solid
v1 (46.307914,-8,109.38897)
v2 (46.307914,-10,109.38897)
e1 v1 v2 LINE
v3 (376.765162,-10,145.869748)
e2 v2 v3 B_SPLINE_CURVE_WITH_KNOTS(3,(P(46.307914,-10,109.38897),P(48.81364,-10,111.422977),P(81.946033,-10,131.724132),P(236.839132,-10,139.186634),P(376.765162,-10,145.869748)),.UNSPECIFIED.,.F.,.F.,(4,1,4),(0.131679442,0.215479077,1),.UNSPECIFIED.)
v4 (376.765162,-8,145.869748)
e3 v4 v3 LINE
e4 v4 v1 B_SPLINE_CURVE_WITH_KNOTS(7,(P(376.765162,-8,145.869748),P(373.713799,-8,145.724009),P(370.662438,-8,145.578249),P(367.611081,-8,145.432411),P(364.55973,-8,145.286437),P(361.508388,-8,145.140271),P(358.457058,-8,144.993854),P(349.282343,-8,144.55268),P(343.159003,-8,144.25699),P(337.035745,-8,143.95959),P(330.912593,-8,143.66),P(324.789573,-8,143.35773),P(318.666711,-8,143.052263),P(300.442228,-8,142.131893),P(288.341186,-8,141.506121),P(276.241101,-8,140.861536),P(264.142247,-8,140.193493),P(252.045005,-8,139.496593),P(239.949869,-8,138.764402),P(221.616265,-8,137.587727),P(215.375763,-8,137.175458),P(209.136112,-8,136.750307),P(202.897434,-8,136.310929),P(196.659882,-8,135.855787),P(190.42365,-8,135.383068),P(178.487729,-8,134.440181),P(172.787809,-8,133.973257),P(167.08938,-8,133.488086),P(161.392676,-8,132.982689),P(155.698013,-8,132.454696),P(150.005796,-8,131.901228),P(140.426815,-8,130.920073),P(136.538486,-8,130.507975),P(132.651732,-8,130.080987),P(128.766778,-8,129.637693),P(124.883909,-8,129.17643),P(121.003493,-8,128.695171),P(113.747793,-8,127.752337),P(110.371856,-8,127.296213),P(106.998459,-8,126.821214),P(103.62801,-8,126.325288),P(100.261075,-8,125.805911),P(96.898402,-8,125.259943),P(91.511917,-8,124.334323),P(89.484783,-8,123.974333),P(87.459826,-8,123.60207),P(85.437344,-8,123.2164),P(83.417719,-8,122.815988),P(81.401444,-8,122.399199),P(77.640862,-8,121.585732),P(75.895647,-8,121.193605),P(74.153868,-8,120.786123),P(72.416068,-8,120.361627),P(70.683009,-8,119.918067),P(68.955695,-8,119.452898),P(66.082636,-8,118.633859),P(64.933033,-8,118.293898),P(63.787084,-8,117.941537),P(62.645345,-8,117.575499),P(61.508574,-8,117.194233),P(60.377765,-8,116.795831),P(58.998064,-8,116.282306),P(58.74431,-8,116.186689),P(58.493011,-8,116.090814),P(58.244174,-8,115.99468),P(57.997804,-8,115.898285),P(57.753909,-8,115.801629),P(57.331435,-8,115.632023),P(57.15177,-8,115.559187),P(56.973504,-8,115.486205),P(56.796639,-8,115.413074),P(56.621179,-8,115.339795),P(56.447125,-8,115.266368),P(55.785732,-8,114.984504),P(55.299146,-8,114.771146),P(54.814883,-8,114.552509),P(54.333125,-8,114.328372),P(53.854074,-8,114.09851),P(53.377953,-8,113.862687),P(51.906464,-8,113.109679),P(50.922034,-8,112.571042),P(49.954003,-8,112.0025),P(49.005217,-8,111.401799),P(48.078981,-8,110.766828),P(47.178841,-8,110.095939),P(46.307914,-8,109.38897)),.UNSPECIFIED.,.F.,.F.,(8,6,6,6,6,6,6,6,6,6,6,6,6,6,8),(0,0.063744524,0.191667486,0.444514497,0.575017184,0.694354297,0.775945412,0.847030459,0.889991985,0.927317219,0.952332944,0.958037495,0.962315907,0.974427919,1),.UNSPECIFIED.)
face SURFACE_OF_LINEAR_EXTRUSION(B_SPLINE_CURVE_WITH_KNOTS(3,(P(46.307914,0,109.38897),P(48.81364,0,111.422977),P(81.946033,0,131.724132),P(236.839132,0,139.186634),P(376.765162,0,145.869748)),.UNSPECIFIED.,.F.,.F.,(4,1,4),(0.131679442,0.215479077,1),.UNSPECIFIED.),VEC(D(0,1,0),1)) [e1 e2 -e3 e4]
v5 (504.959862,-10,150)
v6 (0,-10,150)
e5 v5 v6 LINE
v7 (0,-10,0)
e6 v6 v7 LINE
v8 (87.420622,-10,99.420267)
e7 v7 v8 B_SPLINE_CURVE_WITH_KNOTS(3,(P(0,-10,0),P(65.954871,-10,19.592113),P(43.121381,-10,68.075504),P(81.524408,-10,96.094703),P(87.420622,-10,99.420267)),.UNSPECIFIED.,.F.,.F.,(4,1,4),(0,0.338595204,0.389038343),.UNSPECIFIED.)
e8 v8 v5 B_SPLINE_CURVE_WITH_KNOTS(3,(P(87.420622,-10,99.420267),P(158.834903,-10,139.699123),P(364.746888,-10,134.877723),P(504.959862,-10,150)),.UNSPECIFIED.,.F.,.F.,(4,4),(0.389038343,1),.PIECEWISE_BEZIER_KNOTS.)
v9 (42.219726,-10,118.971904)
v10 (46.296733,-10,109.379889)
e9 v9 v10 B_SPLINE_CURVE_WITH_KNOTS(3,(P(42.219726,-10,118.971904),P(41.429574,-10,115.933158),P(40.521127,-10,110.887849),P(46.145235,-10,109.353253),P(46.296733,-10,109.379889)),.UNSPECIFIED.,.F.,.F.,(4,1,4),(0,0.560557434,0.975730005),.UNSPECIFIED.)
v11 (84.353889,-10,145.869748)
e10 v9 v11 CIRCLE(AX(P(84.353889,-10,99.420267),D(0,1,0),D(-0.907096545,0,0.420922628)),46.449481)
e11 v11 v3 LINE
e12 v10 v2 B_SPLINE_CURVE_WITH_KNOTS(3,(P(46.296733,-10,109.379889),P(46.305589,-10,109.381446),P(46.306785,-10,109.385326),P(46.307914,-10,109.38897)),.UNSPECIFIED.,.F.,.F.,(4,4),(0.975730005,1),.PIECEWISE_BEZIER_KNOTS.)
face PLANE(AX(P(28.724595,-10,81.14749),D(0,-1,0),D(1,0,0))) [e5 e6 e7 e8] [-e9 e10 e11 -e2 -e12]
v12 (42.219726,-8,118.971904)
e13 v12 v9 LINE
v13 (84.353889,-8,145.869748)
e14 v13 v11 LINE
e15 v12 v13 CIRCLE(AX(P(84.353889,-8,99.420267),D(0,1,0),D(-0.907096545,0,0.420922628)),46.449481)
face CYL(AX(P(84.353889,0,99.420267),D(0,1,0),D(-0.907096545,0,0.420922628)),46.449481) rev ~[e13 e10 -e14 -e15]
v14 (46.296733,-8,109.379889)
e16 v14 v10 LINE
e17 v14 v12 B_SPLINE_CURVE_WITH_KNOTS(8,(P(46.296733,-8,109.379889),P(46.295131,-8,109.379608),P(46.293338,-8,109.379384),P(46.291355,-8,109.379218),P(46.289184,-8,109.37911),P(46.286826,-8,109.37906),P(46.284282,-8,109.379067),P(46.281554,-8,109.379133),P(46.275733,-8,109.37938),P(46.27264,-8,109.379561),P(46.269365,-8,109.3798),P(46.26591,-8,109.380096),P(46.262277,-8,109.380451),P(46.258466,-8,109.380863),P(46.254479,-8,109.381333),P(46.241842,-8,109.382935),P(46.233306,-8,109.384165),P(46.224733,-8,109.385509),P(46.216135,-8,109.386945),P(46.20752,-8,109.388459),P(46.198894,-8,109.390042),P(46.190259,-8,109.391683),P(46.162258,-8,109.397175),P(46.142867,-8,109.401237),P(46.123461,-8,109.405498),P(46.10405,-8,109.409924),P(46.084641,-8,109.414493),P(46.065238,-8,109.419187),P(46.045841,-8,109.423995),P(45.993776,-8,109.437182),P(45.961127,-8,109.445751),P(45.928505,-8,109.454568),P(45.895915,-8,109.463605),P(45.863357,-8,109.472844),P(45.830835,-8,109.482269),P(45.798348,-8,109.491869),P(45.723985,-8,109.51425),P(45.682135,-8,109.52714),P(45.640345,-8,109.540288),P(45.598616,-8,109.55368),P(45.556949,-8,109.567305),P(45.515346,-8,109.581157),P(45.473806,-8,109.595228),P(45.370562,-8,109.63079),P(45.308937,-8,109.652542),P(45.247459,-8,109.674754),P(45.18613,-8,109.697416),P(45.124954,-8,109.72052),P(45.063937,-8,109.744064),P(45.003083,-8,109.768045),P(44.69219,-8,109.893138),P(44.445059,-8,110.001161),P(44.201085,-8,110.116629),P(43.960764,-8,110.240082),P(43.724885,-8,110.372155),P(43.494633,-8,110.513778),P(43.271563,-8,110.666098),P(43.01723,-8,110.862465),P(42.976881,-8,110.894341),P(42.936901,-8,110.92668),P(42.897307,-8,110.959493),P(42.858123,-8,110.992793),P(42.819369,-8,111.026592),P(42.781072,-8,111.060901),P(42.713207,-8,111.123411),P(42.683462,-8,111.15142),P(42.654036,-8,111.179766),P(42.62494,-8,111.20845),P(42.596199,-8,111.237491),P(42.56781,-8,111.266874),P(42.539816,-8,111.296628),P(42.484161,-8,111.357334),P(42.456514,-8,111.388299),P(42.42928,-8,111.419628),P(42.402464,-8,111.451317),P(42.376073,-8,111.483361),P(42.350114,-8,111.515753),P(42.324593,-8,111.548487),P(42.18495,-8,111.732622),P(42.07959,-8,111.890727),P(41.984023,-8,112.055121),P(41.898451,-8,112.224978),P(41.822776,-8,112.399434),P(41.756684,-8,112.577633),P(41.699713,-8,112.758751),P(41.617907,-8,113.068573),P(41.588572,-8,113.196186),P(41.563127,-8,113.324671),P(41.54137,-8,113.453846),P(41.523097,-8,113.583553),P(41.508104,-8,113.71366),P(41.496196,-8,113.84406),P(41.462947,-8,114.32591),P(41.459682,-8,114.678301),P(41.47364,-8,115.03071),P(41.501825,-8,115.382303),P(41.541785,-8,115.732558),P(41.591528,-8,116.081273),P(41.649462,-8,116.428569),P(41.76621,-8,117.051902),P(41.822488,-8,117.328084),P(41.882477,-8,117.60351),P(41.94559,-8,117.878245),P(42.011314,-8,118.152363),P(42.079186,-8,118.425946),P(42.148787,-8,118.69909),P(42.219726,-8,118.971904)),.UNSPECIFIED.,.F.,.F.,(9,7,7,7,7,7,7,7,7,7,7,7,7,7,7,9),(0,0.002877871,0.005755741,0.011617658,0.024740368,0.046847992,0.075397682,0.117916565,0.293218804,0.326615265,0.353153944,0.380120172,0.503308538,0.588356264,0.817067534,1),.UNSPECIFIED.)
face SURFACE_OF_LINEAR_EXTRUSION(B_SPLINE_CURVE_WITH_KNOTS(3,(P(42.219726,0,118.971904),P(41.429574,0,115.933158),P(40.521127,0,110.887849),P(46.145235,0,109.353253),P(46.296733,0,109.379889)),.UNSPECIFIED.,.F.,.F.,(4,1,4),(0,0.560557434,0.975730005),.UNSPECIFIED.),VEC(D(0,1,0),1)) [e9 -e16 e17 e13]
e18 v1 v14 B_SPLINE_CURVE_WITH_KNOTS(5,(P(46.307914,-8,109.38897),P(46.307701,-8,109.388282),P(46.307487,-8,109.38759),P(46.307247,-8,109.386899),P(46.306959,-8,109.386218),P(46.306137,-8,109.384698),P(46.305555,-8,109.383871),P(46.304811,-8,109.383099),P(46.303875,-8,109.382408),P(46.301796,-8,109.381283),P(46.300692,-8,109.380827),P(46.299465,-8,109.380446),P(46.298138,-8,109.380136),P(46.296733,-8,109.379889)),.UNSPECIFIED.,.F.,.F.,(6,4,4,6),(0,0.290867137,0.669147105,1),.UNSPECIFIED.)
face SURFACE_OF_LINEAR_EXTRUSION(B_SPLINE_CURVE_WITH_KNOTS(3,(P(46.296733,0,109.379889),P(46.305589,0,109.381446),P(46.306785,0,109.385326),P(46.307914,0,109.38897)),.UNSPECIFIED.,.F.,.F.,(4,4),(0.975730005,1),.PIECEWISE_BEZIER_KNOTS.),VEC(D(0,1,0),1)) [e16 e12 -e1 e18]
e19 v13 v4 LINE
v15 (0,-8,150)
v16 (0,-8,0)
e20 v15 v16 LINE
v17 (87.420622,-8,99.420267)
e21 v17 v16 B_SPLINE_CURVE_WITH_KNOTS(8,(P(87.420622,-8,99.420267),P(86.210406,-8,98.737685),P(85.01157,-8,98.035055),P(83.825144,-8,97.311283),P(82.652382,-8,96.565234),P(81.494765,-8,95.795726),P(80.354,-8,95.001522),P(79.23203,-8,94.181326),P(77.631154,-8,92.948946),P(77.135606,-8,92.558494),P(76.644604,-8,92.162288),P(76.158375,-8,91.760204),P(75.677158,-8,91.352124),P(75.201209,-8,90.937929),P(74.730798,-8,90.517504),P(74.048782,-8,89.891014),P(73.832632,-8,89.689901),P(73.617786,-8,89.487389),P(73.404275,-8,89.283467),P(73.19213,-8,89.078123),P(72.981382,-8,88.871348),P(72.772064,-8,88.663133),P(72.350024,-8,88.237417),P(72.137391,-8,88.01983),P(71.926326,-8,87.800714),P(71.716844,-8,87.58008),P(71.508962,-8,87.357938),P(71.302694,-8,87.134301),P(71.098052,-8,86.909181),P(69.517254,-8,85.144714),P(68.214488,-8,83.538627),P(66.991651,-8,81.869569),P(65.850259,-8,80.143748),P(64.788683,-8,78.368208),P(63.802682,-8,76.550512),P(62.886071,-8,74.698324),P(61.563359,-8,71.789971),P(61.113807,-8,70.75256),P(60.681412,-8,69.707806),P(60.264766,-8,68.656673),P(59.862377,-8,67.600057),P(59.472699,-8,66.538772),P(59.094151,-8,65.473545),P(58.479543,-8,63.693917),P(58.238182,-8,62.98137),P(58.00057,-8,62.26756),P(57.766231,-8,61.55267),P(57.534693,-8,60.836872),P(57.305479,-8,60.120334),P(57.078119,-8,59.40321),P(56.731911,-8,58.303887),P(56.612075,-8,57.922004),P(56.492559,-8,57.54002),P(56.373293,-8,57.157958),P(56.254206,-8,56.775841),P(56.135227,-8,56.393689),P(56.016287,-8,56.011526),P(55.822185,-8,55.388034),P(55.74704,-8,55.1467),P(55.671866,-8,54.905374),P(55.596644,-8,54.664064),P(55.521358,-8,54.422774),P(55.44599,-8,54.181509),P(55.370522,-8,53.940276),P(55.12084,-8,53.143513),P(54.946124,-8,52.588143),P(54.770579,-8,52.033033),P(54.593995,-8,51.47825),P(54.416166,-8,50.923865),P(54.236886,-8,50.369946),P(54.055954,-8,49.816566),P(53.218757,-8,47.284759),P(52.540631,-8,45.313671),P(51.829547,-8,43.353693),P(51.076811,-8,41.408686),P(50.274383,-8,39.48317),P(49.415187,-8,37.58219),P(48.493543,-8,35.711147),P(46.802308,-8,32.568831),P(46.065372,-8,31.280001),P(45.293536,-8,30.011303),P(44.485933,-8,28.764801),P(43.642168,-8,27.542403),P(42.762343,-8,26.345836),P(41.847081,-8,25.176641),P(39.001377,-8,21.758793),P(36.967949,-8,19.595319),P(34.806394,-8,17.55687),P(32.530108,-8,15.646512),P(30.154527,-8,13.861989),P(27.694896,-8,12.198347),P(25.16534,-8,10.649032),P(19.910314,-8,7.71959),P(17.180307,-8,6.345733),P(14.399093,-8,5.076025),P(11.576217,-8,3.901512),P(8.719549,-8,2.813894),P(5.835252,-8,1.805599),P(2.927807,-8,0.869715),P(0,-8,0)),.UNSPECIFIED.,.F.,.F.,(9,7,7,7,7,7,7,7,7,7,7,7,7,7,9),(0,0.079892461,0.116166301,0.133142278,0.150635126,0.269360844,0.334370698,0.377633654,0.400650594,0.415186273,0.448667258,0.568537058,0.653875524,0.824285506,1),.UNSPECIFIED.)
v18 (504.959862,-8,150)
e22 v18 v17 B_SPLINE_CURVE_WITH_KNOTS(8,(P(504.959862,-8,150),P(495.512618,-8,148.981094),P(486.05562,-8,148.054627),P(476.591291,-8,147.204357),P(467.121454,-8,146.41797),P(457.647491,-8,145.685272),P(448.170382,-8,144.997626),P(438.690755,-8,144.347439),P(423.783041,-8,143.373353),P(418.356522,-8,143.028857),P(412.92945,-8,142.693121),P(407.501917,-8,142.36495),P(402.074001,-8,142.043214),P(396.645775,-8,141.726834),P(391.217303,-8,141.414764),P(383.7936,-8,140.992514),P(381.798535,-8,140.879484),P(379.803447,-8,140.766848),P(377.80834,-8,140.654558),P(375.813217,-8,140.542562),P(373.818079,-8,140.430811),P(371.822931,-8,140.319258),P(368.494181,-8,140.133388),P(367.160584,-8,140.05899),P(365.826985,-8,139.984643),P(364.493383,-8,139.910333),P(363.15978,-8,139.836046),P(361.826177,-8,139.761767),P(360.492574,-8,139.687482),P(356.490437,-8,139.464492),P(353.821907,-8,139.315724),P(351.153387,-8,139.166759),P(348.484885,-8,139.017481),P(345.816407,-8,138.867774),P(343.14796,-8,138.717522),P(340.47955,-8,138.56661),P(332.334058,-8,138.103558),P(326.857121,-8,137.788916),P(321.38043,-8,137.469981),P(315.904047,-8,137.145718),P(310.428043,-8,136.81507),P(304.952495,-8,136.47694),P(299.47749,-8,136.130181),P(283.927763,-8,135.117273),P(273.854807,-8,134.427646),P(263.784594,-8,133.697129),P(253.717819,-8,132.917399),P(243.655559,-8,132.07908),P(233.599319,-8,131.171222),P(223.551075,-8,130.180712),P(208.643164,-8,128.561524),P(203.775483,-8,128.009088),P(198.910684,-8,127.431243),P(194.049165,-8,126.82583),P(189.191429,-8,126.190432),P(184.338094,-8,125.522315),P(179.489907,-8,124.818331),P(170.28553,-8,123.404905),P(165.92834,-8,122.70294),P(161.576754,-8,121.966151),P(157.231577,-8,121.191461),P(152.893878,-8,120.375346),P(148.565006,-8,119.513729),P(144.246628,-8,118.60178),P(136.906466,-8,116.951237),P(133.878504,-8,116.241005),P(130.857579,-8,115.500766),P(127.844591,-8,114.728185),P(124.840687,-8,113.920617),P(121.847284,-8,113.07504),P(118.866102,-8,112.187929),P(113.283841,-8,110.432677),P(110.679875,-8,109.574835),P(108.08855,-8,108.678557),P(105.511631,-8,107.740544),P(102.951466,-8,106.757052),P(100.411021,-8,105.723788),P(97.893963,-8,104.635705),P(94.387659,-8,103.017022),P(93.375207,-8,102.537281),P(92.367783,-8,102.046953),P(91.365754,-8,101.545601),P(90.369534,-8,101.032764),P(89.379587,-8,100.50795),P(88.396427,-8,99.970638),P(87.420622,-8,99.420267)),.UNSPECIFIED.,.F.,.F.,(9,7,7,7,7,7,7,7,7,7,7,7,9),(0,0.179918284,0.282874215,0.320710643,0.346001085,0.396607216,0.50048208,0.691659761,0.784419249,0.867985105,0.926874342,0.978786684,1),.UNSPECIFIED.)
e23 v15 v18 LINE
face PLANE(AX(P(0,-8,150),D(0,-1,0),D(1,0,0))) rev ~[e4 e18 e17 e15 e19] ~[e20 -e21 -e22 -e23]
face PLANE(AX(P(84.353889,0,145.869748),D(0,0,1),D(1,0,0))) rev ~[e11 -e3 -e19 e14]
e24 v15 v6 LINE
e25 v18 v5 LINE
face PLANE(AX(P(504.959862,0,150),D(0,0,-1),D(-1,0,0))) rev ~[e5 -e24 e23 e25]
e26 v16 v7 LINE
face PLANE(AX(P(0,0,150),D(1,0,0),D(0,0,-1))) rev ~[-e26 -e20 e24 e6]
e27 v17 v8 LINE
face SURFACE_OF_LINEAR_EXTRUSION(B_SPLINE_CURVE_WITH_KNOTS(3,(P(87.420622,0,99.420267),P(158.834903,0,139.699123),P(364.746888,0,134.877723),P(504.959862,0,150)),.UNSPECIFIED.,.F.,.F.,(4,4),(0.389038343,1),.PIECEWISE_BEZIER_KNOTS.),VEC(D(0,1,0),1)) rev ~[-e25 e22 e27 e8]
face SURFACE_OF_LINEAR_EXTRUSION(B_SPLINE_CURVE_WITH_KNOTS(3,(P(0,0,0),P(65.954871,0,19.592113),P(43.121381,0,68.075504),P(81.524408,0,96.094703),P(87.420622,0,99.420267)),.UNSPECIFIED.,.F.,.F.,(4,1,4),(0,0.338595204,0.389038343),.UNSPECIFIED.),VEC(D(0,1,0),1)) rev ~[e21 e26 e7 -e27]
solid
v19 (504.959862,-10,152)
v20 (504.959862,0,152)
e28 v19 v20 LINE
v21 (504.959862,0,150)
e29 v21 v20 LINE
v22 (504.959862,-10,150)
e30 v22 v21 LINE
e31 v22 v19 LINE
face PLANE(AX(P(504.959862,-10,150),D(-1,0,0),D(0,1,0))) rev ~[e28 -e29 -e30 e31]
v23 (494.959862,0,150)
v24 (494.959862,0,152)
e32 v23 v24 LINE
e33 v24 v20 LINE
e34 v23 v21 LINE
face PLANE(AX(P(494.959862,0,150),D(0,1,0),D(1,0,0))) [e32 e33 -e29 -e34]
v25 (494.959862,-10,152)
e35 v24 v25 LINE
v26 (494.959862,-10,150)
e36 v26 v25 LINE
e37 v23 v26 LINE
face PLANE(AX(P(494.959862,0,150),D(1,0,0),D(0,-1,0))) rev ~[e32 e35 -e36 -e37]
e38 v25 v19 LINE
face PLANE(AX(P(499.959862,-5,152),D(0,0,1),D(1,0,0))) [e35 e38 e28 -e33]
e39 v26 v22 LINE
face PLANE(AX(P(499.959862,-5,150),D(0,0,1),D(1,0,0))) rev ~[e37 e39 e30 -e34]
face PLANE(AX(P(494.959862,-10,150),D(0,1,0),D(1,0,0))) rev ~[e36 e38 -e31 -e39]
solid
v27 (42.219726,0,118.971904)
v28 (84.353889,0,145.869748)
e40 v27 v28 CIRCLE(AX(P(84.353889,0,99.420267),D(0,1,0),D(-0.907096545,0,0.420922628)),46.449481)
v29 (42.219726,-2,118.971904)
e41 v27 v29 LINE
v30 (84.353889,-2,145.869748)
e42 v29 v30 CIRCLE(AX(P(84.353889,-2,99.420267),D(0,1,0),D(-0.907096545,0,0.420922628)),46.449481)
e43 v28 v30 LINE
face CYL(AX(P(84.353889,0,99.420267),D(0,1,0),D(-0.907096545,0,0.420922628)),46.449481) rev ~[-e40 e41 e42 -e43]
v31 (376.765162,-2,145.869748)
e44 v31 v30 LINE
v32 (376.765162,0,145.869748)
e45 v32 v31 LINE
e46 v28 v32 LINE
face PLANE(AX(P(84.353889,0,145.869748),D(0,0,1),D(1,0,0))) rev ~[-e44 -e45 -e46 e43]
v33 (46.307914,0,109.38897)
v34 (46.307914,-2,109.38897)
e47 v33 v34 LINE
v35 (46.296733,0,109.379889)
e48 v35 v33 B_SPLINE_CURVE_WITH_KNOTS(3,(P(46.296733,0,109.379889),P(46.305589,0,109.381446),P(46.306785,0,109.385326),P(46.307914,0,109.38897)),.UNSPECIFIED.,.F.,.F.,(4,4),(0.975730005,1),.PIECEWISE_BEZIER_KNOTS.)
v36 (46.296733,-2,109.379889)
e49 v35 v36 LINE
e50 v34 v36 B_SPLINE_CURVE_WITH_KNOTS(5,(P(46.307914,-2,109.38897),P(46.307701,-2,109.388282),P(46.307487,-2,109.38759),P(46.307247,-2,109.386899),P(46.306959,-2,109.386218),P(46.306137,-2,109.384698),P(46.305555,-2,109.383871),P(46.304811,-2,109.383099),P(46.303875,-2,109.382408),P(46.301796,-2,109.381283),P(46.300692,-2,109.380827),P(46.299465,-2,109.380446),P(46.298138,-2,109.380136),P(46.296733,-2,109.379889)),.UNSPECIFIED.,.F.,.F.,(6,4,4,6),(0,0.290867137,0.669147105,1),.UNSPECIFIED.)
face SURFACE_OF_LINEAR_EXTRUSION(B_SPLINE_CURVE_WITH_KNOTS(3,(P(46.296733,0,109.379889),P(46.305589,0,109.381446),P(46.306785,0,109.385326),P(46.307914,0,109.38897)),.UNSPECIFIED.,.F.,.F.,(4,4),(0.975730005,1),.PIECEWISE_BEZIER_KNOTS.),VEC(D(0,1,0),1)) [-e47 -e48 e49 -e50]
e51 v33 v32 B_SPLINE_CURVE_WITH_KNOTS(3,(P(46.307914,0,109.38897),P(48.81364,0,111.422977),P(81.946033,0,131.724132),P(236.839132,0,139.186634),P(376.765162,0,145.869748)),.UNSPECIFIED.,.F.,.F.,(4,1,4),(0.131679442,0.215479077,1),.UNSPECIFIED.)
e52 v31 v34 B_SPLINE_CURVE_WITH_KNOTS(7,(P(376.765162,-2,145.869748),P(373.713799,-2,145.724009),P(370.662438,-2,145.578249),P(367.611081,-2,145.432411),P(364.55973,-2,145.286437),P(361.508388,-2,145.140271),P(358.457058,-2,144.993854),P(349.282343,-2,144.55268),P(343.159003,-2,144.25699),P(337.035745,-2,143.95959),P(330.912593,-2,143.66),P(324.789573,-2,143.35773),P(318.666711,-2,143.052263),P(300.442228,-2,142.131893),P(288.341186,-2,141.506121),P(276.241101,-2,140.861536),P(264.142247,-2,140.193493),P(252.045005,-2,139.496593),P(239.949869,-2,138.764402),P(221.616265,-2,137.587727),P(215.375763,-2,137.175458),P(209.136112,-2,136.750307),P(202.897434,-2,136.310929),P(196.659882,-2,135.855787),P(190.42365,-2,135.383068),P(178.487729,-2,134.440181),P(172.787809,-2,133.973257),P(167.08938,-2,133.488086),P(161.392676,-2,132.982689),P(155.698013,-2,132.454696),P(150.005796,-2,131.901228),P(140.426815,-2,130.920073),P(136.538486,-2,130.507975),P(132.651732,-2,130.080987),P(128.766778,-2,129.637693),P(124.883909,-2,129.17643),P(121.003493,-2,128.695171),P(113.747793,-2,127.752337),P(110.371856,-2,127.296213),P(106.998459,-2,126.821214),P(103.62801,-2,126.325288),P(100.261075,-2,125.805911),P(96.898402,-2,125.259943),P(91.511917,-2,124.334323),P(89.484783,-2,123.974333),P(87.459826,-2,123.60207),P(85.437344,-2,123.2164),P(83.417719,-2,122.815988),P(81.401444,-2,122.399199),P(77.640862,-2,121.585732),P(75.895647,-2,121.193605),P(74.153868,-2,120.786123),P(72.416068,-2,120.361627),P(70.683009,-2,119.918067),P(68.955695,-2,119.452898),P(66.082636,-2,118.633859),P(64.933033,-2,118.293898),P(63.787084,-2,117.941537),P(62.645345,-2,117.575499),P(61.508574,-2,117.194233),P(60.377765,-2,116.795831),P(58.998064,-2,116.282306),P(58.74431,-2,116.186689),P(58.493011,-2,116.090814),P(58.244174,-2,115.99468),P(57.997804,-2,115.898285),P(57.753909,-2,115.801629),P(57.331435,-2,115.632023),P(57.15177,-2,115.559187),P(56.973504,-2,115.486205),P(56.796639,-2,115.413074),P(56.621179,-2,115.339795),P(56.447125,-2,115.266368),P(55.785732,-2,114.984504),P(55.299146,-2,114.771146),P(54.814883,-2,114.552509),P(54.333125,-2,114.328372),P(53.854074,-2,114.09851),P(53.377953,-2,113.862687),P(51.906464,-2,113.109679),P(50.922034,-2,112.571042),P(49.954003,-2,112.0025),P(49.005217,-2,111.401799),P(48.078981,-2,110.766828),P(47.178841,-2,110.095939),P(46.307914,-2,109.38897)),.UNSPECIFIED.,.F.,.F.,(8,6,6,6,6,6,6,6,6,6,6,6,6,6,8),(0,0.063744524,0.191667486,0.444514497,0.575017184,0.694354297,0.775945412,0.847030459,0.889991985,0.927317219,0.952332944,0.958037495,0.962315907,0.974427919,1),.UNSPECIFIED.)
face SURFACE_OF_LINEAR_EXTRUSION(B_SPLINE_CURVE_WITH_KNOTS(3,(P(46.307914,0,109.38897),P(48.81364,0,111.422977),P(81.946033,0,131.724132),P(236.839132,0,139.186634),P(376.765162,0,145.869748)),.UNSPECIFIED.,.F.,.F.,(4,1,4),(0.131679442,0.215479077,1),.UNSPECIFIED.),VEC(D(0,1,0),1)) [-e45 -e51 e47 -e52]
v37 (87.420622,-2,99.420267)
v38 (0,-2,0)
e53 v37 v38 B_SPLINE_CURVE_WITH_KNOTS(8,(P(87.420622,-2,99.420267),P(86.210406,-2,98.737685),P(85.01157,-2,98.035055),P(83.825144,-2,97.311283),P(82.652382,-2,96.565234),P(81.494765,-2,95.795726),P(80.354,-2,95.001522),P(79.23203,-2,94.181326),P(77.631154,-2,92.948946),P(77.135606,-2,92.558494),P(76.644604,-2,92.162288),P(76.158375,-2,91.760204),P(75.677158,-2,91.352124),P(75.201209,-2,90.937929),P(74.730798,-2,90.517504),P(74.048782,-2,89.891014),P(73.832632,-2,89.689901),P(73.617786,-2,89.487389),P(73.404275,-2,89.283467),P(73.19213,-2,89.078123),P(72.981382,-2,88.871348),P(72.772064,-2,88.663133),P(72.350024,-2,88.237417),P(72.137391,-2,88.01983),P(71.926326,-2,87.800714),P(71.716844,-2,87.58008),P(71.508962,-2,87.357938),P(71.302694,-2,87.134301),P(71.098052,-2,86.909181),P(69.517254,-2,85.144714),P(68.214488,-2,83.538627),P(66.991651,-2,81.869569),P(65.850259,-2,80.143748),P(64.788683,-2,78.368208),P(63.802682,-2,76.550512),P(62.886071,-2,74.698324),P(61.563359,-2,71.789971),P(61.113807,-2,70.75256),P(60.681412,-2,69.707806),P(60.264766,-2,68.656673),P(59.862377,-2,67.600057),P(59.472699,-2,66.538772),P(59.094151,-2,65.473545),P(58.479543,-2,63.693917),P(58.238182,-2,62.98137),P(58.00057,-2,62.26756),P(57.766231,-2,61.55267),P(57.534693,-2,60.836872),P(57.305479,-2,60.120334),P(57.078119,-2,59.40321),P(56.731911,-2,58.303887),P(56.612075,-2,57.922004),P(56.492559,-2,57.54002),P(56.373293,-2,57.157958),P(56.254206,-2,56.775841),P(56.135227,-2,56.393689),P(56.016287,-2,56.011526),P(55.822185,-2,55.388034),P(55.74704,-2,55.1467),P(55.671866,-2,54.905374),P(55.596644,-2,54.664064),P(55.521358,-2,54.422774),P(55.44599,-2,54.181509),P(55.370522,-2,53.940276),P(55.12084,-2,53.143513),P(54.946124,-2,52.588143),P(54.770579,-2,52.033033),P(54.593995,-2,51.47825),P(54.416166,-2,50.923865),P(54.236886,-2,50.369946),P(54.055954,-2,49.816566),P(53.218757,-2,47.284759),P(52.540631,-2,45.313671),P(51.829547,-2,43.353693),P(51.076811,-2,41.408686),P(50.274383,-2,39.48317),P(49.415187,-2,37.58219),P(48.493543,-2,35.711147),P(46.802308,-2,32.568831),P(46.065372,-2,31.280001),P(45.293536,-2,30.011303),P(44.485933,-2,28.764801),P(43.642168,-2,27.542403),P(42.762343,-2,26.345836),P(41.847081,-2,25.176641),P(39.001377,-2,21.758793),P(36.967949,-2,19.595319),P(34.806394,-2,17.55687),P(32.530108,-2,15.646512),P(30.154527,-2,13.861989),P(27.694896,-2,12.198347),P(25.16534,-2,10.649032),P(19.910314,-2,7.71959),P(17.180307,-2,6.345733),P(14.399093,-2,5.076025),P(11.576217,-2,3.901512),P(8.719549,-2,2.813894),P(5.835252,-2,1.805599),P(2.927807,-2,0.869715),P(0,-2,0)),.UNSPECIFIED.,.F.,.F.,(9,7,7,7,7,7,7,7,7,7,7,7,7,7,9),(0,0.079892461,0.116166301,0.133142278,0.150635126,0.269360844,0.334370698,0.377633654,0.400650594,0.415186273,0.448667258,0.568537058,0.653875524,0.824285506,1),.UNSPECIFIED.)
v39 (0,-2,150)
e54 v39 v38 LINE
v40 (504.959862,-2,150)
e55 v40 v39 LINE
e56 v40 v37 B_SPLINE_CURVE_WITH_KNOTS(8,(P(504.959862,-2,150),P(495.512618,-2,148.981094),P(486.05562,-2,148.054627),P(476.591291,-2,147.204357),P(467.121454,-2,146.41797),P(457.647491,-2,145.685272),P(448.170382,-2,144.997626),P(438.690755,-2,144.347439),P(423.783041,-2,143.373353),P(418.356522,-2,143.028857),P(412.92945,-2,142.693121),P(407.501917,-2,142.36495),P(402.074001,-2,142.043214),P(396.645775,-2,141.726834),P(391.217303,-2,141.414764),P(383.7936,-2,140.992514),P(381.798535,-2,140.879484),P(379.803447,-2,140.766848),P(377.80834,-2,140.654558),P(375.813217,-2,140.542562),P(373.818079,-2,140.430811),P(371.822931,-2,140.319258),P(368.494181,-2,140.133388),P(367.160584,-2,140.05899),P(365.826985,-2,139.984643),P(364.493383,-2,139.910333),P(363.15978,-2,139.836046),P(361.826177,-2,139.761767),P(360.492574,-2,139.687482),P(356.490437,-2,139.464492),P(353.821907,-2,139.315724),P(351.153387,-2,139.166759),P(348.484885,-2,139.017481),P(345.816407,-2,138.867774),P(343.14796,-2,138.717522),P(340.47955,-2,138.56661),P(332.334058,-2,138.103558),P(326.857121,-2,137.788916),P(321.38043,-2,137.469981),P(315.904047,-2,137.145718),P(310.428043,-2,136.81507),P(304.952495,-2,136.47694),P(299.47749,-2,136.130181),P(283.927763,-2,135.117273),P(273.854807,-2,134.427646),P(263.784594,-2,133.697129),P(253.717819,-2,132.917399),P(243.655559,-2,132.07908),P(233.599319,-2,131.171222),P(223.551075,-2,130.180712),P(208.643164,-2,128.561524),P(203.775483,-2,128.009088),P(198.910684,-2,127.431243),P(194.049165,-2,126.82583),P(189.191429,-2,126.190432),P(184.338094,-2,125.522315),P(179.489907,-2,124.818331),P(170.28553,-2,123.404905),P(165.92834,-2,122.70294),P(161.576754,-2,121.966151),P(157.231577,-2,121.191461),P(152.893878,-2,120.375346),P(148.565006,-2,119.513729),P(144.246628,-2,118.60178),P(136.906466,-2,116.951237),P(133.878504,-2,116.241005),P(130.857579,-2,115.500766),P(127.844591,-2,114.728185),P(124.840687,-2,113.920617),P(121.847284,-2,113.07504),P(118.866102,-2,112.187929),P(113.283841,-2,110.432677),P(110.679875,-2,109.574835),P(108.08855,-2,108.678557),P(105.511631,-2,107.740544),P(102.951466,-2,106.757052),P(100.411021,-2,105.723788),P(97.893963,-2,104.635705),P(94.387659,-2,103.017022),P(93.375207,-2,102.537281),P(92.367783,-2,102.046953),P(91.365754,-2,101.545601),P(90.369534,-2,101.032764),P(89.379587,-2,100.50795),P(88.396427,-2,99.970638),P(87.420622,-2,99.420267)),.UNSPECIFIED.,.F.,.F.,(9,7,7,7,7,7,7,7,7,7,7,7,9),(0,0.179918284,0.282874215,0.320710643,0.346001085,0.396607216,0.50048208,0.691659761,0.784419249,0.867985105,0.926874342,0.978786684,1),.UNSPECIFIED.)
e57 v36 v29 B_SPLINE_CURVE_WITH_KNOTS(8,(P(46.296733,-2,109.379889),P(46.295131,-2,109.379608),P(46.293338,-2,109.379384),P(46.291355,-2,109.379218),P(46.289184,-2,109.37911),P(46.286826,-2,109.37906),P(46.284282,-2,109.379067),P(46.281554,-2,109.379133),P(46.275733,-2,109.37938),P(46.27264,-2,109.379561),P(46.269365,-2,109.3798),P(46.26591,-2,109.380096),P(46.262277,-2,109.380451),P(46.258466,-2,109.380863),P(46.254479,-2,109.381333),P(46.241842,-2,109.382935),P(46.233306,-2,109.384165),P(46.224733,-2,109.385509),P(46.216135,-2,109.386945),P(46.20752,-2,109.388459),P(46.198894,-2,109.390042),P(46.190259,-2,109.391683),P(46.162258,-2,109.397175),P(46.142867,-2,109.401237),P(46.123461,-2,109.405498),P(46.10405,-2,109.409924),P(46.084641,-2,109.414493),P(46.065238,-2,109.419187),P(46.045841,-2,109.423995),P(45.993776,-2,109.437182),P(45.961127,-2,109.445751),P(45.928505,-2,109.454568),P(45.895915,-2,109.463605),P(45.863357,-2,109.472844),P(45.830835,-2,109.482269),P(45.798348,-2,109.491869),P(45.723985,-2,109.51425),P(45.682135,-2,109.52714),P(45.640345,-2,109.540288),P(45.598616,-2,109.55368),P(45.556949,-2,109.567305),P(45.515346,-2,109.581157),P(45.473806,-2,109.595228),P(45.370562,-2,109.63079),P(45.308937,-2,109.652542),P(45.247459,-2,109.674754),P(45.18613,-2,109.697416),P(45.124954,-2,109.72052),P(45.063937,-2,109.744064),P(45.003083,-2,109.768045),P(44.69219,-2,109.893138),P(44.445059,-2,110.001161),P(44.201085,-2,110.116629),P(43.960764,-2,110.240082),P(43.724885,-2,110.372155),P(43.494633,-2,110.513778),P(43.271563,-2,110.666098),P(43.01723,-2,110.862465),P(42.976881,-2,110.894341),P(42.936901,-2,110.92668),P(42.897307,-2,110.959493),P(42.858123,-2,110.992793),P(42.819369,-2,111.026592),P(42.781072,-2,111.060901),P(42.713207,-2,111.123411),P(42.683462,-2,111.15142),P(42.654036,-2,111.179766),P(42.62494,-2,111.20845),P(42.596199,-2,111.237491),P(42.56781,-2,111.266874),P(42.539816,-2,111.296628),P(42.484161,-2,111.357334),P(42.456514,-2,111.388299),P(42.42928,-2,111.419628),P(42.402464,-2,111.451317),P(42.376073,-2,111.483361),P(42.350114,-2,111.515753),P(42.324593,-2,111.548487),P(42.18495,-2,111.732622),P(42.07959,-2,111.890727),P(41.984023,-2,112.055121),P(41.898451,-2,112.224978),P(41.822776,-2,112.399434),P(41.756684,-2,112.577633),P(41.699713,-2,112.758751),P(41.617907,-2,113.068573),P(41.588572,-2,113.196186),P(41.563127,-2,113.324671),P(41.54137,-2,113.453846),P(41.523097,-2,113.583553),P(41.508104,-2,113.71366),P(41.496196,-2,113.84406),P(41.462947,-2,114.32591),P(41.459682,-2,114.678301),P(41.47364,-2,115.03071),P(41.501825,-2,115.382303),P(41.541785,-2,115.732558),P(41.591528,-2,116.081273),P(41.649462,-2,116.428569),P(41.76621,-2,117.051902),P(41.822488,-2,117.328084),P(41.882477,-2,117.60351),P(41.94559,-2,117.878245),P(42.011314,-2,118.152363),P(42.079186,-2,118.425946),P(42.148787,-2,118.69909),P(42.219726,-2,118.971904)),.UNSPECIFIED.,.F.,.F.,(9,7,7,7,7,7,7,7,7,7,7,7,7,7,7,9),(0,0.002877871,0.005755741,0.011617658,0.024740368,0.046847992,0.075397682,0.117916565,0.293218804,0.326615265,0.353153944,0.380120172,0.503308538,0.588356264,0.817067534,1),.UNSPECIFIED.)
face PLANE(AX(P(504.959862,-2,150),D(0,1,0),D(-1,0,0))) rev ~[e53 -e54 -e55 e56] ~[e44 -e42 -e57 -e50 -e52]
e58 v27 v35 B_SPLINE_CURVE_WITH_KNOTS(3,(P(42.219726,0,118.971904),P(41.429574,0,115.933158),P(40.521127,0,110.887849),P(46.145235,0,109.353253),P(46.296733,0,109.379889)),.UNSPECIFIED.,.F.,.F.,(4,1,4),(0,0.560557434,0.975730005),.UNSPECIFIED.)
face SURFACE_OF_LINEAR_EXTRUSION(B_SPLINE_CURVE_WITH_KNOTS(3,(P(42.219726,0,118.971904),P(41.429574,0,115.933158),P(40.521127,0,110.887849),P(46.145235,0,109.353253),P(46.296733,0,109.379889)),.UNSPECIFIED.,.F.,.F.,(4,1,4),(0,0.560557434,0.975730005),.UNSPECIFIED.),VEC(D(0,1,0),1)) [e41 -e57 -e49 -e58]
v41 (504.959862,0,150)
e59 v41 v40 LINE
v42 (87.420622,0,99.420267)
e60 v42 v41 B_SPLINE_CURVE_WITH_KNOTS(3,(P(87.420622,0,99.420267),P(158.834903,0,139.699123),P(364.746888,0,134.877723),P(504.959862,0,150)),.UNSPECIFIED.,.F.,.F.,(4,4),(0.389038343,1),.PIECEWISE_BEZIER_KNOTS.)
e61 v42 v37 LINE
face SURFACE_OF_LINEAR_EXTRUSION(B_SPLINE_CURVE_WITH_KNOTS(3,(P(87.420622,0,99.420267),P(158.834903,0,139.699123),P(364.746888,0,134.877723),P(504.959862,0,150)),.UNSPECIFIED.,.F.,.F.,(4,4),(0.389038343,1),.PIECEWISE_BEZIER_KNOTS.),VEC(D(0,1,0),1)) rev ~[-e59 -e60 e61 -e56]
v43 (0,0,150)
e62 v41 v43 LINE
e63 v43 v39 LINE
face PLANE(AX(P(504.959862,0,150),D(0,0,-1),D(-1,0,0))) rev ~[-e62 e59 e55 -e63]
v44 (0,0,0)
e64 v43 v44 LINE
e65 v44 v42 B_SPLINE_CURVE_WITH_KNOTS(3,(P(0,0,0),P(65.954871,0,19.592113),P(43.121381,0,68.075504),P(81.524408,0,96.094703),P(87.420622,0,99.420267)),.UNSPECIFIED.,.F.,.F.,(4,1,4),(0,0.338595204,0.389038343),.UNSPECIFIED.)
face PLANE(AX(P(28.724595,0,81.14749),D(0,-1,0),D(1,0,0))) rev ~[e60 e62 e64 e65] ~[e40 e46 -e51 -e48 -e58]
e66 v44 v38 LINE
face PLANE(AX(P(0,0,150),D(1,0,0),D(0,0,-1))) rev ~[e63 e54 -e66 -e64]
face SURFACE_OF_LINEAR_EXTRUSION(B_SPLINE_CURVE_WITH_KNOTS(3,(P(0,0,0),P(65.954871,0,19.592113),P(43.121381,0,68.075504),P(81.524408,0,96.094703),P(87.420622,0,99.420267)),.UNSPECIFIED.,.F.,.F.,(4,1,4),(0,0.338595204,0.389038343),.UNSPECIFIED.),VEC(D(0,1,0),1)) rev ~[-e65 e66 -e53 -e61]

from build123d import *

# Parameters (mm, degrees)
F1_DEPTH = 10
F2_W     = 10
F2_H     = 6
F2_H_2   = 2
F3_DEPTH = 2
F2_W_2   = 494.9598616024
F4_DEPTH = 150.0010001


with BuildPart() as f1:
    # F0 (on Front) → F1 (new body)
    with BuildSketch(Plane.XZ):
        with BuildLine():
            Line((37.9044083604, 150), (0, 150))
            Line((0, 150), (0, 0))
            add(Edge.make_bspline(
                [(0, 0), (65.9548709809, 19.5921129568), (43.1213805036, 68.0755041216), (81.5244080495, 96.0947031217), (87.4206218721, 99.4202668856)],
                knots=[0, 0, 0, 0, 0.3385952036, 0.3890383434, 0.3890383434, 0.3890383434, 0.3890383434], degree=3))
            Line((87.4206218721, 99.4202668856), (37.9044083604, 99.4202668856))
            Line((37.9044083604, 99.4202668856), (37.9044083604, 150))
        make_face()
        with BuildLine():
            Line((504.9598616024, 150), (37.9044083604, 150))
            Line((37.9044083604, 150), (37.9044083604, 99.4202668856))
            Line((37.9044083604, 99.4202668856), (87.4206218721, 99.4202668856))
            add(Edge.make_bspline(
                [(87.4206218721, 99.4202668856), (158.8349029243, 139.6991225106), (364.7468882992, 134.8777226964), (504.9598616024, 150)],
                knots=[0.3890383434, 0.3890383434, 0.3890383434, 0.3890383434, 1, 1, 1, 1], degree=3))
        make_face()
        with BuildLine():
            add(Edge.make_bspline(
                [(37.9044083604, 99.4202668856), (40.1391890242, 102.808774449), (42.3662939341, 106.1864082233), (46.2967331171, 109.3798892374)],
                knots=[0, 0, 0, 0, 0.1315547467, 0.1315547467, 0.1315547467, 0.1315547467], degree=3))
            ThreePointArc((37.9044083604, 99.4202668856), (38.9960657633, 109.4313669005), (42.2197256275, 118.9719044364))
            ThreePointArc((42.2197256275, 118.9719044364), (59.3599813963, 138.5720081749), (84.3538892703, 145.8697477955))
            Line((84.3538892703, 145.8697477955), (376.7651616806, 145.8697477955))
            add(Edge.make_bspline(
                [(46.3079142071, 109.3889696428), (48.8136397524, 111.4229766396), (81.946033288, 131.7241322969), (236.8391321907, 139.1866338489), (376.7651616806, 145.8697477955)],
                knots=[0.131679442, 0.131679442, 0.131679442, 0.131679442, 0.2154790768, 1, 1, 1, 1], degree=3))
            add(Edge.make_bspline(
                [(46.2967331171, 109.3798892374), (46.3055893224, 109.3814463555), (46.3067854724, 109.3853258877), (46.3079142071, 109.3889696428)],
                knots=[0.9757300046, 0.9757300046, 0.9757300046, 0.9757300046, 1, 1, 1, 1], degree=3))
        make_face(mode=Mode.SUBTRACT)
        with BuildLine():
            ThreePointArc((42.2197256275, 118.9719044364), (38.9960657633, 109.4313669005), (37.9044083604, 99.4202668856))
            add(Edge.make_bspline(
                [(37.9044083604, 99.4202668856), (40.1391890242, 102.808774449), (42.3662939341, 106.1864082233), (46.2967331171, 109.3798892374)],
                knots=[0, 0, 0, 0, 0.1315547467, 0.1315547467, 0.1315547467, 0.1315547467], degree=3))
            add(Edge.make_bspline(
                [(42.2197256275, 118.9719044364), (41.4295743237, 115.9331579648), (40.5211265672, 110.8878487784), (46.1452352099, 109.3532525312), (46.2967331171, 109.3798892374)],
                knots=[0, 0, 0, 0, 0.5605574336, 0.9757300046, 0.9757300046, 0.9757300046, 0.9757300046], degree=3))
        make_face()
    extrude(amount=F1_DEPTH)

    # F2 (on face) → F4 (cut, through all)
    with BuildSketch(Plane.XY.offset(150)):
        with Locations((247.4799308012, -5)):
            Rectangle(F2_W_2, F2_H)
        with Locations((499.9598616024, -5)):
            Rectangle(F2_W, F2_H)
    extrude(amount=-F4_DEPTH, mode=Mode.SUBTRACT)


with BuildPart() as f3:
    # F2 (on face) → F3 (new body)
    with BuildSketch(Plane.XY.offset(150)):
        with Locations((499.9598616024, -5)):
            Rectangle(F2_W, F2_H)
        with Locations((499.9598616024, -1)):
            Rectangle(F2_W, F2_H_2)
        with Locations((499.9598616024, -9)):
            Rectangle(F2_W, F2_H_2)
    extrude(amount=F3_DEPTH)


solid = Compound([f1.part, f3.part])
